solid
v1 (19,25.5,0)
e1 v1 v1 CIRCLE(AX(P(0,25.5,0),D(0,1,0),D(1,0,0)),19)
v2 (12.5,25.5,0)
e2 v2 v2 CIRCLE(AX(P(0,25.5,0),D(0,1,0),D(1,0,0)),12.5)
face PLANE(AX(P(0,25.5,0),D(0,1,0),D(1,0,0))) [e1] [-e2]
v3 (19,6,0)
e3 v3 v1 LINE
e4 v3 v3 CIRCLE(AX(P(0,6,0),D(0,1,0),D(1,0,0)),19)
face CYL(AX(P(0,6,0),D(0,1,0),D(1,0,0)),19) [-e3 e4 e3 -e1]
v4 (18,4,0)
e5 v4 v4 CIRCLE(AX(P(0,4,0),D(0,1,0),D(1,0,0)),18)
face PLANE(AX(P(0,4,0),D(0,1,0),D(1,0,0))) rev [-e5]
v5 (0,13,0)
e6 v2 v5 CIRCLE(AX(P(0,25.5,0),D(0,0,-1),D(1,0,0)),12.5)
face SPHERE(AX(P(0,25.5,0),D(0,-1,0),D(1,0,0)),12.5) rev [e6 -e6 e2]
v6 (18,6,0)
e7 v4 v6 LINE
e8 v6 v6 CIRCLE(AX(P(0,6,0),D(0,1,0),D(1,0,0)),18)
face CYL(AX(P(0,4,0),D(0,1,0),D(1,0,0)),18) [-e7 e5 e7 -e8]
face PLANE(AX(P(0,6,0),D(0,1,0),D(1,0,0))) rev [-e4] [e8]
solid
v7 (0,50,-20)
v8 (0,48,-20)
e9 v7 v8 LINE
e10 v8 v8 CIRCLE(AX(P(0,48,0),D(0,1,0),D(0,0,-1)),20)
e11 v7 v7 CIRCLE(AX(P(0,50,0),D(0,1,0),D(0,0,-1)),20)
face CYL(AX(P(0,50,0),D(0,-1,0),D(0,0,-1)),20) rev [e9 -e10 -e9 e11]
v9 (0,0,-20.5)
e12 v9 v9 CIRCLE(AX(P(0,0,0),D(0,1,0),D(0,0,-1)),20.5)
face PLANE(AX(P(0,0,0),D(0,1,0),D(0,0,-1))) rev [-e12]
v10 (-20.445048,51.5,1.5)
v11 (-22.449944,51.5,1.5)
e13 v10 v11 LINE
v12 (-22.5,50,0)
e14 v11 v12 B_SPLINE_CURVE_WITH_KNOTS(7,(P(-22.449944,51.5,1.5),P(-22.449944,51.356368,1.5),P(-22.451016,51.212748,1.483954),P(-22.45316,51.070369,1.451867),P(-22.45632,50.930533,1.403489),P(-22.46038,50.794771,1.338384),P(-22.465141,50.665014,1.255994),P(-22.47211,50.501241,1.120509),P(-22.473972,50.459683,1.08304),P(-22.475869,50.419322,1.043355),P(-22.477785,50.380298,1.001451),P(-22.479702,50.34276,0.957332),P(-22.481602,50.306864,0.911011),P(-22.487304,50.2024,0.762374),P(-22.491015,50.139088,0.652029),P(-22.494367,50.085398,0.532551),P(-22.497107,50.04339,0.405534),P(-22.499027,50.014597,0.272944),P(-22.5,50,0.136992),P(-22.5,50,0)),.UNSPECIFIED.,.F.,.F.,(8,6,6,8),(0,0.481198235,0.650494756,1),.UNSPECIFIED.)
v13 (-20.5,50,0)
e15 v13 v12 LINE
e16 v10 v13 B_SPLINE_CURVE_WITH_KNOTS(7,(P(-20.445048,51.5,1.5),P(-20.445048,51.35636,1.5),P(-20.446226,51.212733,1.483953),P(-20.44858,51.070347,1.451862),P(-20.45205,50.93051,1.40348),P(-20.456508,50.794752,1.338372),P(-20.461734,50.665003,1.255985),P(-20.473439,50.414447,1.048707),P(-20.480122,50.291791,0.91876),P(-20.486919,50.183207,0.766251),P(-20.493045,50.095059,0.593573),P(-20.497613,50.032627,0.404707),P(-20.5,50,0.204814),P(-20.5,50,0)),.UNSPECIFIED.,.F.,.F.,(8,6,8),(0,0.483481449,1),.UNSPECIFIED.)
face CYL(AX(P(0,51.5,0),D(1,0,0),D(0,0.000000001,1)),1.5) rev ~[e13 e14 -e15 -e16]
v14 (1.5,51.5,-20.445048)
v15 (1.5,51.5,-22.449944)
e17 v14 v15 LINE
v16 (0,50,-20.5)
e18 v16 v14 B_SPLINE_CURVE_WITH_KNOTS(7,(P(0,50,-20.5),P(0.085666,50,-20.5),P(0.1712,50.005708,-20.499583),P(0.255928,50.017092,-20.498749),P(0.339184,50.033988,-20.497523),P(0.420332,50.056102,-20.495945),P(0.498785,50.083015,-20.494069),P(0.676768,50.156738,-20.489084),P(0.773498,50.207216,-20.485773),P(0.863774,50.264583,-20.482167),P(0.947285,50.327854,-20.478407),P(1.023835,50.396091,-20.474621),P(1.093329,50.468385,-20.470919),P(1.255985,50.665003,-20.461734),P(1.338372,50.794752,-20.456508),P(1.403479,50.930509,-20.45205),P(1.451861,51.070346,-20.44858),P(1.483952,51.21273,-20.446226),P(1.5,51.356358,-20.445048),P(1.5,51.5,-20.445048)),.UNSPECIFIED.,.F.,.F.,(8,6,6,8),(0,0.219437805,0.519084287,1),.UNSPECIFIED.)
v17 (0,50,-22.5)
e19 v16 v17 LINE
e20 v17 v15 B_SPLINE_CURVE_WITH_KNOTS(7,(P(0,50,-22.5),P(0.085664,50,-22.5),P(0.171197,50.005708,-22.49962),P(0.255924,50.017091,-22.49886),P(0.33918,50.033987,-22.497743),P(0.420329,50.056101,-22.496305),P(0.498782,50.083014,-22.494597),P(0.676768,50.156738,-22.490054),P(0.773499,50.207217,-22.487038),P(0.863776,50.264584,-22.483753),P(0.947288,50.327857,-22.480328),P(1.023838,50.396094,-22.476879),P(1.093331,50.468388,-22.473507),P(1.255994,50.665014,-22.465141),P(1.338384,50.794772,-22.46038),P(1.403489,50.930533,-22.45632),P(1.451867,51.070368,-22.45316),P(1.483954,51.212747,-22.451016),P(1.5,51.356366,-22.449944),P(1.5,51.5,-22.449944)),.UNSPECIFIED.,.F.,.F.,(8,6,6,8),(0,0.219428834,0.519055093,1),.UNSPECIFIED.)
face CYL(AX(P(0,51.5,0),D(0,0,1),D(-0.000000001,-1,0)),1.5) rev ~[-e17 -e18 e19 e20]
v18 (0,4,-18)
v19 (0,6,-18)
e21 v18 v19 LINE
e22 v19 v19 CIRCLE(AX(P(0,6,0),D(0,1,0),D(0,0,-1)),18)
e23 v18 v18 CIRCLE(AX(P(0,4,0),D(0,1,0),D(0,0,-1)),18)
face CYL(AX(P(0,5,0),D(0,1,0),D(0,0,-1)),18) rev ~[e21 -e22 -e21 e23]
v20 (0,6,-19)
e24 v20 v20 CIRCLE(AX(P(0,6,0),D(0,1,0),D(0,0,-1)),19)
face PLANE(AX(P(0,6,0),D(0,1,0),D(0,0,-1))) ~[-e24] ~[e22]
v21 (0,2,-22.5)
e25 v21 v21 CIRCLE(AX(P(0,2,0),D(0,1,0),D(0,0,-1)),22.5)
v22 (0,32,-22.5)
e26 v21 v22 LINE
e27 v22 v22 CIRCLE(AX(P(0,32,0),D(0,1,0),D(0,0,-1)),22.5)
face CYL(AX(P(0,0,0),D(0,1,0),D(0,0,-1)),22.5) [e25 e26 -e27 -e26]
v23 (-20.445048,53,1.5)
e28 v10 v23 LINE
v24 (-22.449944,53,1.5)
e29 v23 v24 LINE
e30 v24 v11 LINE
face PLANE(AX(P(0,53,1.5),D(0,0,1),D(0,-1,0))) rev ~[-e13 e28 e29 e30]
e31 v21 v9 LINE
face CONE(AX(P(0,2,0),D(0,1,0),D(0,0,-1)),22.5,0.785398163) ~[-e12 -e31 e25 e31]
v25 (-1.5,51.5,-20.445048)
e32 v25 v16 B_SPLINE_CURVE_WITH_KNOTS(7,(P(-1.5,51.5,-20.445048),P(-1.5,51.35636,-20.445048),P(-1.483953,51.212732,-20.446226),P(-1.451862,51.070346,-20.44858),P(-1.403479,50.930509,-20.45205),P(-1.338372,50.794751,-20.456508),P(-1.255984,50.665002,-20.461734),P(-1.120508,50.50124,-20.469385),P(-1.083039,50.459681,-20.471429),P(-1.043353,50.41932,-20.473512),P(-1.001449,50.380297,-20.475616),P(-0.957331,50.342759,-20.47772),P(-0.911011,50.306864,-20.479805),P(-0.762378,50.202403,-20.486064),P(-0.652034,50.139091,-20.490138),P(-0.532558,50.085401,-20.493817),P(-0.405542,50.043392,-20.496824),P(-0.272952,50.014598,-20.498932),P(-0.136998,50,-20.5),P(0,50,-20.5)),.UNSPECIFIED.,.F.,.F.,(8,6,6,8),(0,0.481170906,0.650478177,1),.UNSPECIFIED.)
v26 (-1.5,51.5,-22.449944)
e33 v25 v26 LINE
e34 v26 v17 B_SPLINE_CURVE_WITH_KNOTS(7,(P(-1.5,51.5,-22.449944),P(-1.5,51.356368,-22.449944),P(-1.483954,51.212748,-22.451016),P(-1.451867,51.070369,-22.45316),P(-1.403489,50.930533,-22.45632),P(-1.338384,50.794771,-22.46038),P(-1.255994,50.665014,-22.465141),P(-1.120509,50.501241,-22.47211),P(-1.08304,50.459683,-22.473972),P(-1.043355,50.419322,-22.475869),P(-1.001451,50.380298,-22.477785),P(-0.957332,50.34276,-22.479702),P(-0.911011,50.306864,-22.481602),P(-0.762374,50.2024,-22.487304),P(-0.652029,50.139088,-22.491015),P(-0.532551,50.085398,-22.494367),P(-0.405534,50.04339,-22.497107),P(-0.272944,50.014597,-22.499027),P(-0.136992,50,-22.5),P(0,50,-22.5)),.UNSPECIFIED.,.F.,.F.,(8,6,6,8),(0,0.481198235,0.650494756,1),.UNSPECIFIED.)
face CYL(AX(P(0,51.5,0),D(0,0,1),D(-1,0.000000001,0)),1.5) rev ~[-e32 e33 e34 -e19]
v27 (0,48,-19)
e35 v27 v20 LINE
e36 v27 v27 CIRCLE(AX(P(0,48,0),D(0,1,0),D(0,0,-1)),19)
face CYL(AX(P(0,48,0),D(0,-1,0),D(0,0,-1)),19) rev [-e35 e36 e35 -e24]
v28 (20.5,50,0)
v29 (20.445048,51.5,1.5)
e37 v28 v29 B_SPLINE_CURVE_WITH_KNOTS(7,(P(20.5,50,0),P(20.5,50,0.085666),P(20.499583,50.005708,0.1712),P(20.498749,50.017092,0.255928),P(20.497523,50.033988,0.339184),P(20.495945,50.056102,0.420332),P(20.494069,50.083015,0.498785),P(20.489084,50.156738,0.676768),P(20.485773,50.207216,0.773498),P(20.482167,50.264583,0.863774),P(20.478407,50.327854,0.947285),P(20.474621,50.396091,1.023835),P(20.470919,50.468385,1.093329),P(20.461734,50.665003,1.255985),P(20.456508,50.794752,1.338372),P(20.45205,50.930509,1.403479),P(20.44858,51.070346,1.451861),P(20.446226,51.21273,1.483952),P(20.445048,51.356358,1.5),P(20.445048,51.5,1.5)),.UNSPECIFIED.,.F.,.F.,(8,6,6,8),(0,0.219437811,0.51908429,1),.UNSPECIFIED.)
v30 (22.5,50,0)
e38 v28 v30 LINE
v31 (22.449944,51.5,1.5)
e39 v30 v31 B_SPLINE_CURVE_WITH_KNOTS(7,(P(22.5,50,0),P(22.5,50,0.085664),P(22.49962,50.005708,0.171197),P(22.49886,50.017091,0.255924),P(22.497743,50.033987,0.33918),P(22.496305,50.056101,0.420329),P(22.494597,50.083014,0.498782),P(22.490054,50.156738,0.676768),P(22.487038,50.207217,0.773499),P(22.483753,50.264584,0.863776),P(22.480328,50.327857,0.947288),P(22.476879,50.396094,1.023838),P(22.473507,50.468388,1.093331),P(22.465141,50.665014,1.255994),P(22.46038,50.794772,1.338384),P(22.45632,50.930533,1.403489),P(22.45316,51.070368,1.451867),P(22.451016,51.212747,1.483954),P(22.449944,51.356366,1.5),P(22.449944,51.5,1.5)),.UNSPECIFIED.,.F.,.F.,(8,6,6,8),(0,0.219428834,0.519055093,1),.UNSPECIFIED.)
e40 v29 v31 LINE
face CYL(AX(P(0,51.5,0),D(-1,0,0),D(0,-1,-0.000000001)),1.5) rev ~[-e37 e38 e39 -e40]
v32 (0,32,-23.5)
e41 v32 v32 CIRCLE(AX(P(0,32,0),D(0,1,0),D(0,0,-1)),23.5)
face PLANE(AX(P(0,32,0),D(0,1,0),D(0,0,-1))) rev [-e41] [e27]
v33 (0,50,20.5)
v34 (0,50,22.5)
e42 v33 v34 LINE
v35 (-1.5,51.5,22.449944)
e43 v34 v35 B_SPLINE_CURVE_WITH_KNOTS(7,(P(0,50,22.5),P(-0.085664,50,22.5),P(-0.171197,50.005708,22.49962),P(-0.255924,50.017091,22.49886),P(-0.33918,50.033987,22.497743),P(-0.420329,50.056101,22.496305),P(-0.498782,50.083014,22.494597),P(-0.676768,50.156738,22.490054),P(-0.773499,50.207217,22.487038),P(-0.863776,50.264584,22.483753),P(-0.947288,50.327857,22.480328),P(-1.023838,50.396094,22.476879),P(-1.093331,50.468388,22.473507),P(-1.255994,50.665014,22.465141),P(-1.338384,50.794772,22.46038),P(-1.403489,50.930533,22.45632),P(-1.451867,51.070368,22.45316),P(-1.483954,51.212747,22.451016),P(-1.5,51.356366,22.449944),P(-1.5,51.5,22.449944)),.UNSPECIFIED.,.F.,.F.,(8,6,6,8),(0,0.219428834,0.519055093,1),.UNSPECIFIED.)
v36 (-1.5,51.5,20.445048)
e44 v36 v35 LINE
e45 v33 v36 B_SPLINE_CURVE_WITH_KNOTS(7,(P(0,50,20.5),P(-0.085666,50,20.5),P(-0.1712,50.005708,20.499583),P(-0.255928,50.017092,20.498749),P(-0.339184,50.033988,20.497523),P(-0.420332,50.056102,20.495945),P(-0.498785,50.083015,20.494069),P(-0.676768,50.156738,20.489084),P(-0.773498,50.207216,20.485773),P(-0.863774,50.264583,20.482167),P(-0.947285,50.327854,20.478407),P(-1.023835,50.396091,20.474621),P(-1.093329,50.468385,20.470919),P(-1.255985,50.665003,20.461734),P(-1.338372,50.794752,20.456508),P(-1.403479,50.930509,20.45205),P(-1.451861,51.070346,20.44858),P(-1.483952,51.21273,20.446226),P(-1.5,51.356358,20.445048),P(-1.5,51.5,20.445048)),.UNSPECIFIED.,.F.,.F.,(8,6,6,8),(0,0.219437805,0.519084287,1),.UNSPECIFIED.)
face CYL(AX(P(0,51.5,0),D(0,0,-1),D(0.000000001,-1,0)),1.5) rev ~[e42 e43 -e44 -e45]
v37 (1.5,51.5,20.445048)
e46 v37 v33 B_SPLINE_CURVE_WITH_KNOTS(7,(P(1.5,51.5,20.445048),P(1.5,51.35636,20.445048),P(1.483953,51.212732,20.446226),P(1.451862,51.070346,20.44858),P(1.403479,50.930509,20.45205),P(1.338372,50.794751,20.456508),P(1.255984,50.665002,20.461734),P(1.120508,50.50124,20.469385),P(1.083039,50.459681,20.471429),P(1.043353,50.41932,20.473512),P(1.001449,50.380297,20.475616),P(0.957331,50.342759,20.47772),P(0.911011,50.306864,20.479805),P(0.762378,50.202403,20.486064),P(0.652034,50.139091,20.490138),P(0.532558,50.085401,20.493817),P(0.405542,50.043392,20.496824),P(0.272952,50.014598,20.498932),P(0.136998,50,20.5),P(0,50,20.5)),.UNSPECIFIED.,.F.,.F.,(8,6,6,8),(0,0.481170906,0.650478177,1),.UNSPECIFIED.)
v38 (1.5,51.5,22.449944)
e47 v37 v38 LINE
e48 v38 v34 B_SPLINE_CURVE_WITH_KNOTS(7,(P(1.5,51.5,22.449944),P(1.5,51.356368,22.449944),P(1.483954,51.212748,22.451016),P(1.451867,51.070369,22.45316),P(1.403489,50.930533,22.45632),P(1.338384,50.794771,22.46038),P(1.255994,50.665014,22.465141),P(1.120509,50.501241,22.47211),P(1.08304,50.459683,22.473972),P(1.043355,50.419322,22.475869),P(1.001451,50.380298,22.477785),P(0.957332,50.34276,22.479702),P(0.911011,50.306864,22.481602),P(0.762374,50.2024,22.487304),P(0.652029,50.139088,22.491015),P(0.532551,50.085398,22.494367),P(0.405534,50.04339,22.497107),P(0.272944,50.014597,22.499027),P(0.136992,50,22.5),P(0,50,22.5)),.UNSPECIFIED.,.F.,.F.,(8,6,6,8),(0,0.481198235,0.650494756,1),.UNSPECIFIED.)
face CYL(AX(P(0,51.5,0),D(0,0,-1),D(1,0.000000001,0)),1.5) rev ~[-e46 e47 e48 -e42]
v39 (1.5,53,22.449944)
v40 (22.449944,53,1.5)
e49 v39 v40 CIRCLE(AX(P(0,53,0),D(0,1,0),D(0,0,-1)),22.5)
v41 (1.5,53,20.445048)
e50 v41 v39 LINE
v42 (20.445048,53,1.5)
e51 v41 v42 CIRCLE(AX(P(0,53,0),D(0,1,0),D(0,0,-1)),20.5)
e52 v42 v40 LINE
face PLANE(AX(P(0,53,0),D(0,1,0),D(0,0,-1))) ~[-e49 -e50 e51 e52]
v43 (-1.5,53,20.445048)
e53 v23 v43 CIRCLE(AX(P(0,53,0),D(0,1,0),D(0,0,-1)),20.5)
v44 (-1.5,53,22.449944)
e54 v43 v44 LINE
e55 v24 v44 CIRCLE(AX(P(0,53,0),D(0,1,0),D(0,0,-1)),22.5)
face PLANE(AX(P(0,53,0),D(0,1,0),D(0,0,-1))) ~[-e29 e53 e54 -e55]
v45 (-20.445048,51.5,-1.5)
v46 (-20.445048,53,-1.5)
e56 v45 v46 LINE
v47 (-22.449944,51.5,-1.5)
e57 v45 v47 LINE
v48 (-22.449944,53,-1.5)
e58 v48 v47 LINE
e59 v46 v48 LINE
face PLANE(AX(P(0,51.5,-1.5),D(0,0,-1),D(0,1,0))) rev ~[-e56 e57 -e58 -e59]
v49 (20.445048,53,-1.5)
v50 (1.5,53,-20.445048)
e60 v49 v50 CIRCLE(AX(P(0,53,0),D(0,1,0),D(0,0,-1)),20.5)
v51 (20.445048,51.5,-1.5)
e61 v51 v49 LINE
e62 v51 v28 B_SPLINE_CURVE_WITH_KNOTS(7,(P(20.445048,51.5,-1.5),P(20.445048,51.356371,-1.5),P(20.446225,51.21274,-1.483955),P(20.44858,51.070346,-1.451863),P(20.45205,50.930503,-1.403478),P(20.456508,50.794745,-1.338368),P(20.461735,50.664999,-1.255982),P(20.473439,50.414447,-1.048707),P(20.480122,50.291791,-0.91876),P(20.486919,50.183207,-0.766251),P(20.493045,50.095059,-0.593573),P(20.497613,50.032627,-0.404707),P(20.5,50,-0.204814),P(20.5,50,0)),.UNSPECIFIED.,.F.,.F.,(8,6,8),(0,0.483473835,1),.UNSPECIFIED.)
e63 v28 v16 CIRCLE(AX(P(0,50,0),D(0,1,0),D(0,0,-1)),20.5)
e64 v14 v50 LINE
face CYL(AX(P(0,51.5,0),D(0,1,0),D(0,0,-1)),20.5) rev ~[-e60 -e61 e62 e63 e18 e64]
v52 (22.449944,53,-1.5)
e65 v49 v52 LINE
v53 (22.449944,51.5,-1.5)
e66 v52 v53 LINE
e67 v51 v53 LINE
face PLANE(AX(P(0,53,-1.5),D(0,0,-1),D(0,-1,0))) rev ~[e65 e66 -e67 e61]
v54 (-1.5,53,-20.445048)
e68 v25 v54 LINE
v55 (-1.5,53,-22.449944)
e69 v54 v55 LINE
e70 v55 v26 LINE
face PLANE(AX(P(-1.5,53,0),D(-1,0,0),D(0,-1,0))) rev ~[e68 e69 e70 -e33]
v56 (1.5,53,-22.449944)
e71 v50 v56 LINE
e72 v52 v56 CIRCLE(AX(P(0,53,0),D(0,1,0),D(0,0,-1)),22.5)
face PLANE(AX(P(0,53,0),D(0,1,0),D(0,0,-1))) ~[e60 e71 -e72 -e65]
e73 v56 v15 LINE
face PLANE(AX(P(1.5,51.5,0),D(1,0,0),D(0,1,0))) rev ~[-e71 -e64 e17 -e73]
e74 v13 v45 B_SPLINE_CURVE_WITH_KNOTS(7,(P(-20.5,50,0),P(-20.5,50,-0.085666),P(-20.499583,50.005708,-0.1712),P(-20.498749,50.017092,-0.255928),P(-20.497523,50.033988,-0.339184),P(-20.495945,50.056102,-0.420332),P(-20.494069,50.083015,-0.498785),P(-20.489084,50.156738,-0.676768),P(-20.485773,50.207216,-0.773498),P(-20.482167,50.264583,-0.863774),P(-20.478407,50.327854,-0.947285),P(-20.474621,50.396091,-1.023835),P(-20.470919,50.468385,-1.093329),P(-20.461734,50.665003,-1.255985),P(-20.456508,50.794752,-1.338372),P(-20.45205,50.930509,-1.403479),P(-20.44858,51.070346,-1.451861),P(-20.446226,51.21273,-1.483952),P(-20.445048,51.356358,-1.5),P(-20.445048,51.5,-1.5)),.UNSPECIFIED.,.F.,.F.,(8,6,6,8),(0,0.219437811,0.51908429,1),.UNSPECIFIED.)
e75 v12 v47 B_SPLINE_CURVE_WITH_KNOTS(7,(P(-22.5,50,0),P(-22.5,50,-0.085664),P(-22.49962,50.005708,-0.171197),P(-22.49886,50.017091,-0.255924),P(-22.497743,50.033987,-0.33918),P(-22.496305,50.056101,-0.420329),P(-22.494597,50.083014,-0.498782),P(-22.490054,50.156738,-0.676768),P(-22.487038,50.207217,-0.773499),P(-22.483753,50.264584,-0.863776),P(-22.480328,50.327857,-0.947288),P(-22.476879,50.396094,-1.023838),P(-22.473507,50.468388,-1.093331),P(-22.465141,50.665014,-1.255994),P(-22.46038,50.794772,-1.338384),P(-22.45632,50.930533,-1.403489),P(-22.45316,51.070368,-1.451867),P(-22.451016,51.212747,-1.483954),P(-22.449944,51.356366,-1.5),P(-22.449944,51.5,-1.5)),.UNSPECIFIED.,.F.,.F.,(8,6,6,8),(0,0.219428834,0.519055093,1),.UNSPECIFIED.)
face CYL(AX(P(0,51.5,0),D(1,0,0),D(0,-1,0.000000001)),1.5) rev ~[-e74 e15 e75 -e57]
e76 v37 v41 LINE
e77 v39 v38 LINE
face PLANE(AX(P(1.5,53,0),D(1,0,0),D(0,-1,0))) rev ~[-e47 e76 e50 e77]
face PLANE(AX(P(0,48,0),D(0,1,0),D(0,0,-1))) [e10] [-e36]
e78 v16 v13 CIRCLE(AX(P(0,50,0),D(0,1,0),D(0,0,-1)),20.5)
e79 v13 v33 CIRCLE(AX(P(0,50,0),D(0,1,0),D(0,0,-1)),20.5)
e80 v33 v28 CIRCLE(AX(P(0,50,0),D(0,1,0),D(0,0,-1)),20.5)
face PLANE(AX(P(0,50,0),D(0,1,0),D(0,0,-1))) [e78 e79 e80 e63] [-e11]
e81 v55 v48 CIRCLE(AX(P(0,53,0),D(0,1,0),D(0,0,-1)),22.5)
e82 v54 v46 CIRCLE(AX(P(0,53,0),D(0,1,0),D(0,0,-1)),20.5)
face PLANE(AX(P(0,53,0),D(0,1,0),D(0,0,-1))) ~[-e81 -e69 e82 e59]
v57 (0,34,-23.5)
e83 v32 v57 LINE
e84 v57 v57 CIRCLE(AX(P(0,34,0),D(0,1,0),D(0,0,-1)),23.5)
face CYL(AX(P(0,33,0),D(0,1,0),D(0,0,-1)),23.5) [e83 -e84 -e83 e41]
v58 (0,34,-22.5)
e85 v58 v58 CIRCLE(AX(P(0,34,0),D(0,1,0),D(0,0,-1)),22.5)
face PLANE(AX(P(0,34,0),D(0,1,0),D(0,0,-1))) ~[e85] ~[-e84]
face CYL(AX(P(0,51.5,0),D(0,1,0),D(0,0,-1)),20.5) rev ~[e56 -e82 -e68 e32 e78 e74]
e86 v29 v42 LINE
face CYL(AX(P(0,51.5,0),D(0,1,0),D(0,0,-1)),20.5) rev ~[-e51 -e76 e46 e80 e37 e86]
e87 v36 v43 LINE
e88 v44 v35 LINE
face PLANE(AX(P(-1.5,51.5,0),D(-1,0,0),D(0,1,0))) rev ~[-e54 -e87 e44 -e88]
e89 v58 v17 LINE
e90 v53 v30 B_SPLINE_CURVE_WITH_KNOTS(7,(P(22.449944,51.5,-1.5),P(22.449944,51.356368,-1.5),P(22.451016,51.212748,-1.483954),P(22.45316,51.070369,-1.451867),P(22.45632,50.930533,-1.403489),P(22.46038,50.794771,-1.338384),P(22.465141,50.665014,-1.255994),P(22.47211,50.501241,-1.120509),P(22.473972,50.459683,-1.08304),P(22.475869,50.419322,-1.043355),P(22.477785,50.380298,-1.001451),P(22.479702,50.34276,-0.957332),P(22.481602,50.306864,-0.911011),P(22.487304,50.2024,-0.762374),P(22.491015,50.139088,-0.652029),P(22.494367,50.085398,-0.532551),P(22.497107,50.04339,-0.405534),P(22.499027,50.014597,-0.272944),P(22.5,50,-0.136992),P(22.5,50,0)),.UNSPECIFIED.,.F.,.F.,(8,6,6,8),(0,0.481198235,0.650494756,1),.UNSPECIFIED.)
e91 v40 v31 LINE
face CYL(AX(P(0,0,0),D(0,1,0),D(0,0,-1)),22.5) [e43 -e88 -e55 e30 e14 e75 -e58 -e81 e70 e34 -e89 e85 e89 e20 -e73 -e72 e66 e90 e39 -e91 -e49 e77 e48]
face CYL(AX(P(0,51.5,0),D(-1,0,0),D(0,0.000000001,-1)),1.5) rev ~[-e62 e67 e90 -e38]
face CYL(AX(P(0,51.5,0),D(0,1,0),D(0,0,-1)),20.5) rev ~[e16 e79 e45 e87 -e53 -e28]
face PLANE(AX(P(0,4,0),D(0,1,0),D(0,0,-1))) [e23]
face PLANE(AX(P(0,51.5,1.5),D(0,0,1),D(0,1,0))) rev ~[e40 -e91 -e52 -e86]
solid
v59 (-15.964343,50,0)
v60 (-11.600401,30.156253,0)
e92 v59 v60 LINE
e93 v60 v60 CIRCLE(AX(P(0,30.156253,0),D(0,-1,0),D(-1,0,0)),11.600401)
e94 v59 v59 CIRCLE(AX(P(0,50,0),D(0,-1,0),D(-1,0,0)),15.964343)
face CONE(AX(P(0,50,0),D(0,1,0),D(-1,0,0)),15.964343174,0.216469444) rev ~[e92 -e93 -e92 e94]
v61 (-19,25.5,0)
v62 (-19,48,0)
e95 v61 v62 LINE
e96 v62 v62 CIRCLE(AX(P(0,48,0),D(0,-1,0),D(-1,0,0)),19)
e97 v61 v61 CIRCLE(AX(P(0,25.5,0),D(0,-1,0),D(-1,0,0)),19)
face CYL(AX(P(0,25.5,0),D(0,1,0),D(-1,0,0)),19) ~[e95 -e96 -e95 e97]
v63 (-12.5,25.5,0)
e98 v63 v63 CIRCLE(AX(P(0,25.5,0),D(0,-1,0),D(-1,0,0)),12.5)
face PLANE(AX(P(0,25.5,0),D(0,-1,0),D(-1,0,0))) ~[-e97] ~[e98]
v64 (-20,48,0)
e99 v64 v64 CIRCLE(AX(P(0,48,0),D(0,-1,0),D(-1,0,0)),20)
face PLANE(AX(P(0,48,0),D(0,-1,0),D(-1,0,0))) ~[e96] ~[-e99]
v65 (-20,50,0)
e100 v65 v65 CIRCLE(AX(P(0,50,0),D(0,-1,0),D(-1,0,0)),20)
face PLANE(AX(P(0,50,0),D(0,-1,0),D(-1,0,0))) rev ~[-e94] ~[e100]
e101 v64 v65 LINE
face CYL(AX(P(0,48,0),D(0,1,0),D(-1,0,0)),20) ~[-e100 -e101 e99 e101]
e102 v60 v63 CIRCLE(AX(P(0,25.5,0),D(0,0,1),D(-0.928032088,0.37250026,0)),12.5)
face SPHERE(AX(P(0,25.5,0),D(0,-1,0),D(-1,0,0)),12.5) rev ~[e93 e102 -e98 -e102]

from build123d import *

# Parameters (mm, degrees)
SKETCH_1_W               = 1
SKETCH_1_H               = 2
SKETCH_1_W_2             = 2
SKETCH_1_H_2             = 3
CUT_EXTRUDE_1_REACH      = 64.558
CUT_EXTRUDE_1_END_RADIUS = 22.5
PATTERN_CIRCULAR_1_COUNT = 4
CHAMFER_1_SIZE           = 2


with BuildPart() as part:
    # 草图1 → Revolve 2249 (revolve)
    with BuildSketch(Plane.XY, mode=Mode.PRIVATE) as revolve_2249_sk:
        Polygon((19, 4), (0, 4), (0, 0), (22.5, 0), (22.5, 50), (20, 50), (20, 48), (19, 48), align=None)
        with Locations((18.5, 5)):
            Rectangle(SKETCH_1_W, SKETCH_1_H)
        with Locations((21.5, 51.5)):
            Rectangle(SKETCH_1_W_2, SKETCH_1_H_2)
        with Locations((23, 33)):
            Rectangle(SKETCH_1_W, SKETCH_1_H)
    revolve(revolve_2249_sk.sketch.rotate(Axis((0, 0, 0), (0, 1, 0)), 90), axis=Axis((0, 0, 0), (0, 1, 0)))

    # 切除-拉伸1: up to this cylinder (the profile starts inside it)
    cut_extrude_1_end = Plane(origin=(0, 51.640025, 0), z_dir=(0, -1, 0)) * Cylinder(CUT_EXTRUDE_1_END_RADIUS, 175.116, mode=Mode.PRIVATE)
    # 草图4 → 切除-拉伸1 (cut, up to the surface)
    with BuildSketch(Plane.XY, mode=Mode.PRIVATE) as cut_extrude_1_sk1:
        with BuildLine():
            Line((0, 50), (0, 53))
            Line((0, 53), (-1.5, 53))
            Line((-1.5, 53), (-1.5, 51.5))
            ThreePointArc((-1.5, 51.5), (-1.060660172, 50.439339828), (0, 50))
        make_face()
    cut_extrude_1_tool1 = extrude(cut_extrude_1_sk1.sketch, amount=-CUT_EXTRUDE_1_REACH, mode=Mode.PRIVATE) & cut_extrude_1_end
    # 草图4 → 切除-拉伸1 (cut, up to the surface)
    with BuildSketch(Plane.XY, mode=Mode.PRIVATE) as cut_extrude_1_sk2:
        with BuildLine():
            Line((1.5, 53), (0, 53))
            Line((0, 53), (0, 50))
            ThreePointArc((0, 50), (1.060660172, 50.439339828), (1.5, 51.5))
            Line((1.5, 51.5), (1.5, 53))
        make_face()
    cut_extrude_1_tool2 = extrude(cut_extrude_1_sk2.sketch, amount=-CUT_EXTRUDE_1_REACH, mode=Mode.PRIVATE) & cut_extrude_1_end
    cut_extrude_1 = cut_extrude_1_tool1.solids().sort_by_distance((-0.700124, 51.640025, 0))[0] + cut_extrude_1_tool2.solids().sort_by_distance((0.700124, 51.640025, 0))[0]
    add(cut_extrude_1, mode=Mode.SUBTRACT)

    # 阵列(圆周)1: 切除-拉伸1 ×4 about axis
    pattern_circular_1_axis = Axis((0, 0, 0), (0, 1, 0))
    for i in range(1, PATTERN_CIRCULAR_1_COUNT):
        add(cut_extrude_1.rotate(pattern_circular_1_axis, i * 360 / PATTERN_CIRCULAR_1_COUNT), mode=Mode.SUBTRACT)

    # 倒角1
    chamfer_1_edges = [part.edges().sort_by_distance(p)[0] for p in [
        (0, 0, 22.5),
    ]]
    chamfer(chamfer_1_edges, length=CHAMFER_1_SIZE)


with BuildPart() as body_2:
    # 草图2 → Revolve 2487 (revolve)
    with BuildSketch(Plane.XY):
        with BuildLine():
            Line((19, 13), (19, 25.5))
            Line((19, 25.5), (12.5, 25.5))
            ThreePointArc((12.5, 25.5), (8.838834765, 16.661165235), (0, 13))
            Line((0, 13), (0, 4))
            Line((0, 4), (18, 4))
            Line((18, 4), (18, 6))
            Line((18, 6), (19, 6))
            Line((19, 6), (19, 13))
        make_face()
    revolve(axis=Axis((0, 0, 0), (0, 1, 0)))


with BuildPart() as body_3:
    # 草图3 → Revolve 2685 (revolve)
    with BuildSketch(Plane.XY, mode=Mode.PRIVATE) as revolve_2685_sk:
        with BuildLine():
            Line((19, 48), (20, 48))
            Line((20, 48), (20, 50))
            Line((20, 50), (15.964343174, 50))
            Line((15.964343174, 50), (11.600401101, 30.156253246))
            ThreePointArc((11.600401101, 30.156253246), (12.273039839, 27.871179689), (12.5, 25.5))
            Line((12.5, 25.5), (19, 25.5))
            Line((19, 25.5), (19, 48))
        make_face()
    revolve(revolve_2685_sk.sketch.rotate(Axis((0, 50, 0), (0, -1, 0)), 180), axis=Axis((0, 50, 0), (0, -1, 0)))


solid = Compound([part.part, body_2.part, body_3.part])
